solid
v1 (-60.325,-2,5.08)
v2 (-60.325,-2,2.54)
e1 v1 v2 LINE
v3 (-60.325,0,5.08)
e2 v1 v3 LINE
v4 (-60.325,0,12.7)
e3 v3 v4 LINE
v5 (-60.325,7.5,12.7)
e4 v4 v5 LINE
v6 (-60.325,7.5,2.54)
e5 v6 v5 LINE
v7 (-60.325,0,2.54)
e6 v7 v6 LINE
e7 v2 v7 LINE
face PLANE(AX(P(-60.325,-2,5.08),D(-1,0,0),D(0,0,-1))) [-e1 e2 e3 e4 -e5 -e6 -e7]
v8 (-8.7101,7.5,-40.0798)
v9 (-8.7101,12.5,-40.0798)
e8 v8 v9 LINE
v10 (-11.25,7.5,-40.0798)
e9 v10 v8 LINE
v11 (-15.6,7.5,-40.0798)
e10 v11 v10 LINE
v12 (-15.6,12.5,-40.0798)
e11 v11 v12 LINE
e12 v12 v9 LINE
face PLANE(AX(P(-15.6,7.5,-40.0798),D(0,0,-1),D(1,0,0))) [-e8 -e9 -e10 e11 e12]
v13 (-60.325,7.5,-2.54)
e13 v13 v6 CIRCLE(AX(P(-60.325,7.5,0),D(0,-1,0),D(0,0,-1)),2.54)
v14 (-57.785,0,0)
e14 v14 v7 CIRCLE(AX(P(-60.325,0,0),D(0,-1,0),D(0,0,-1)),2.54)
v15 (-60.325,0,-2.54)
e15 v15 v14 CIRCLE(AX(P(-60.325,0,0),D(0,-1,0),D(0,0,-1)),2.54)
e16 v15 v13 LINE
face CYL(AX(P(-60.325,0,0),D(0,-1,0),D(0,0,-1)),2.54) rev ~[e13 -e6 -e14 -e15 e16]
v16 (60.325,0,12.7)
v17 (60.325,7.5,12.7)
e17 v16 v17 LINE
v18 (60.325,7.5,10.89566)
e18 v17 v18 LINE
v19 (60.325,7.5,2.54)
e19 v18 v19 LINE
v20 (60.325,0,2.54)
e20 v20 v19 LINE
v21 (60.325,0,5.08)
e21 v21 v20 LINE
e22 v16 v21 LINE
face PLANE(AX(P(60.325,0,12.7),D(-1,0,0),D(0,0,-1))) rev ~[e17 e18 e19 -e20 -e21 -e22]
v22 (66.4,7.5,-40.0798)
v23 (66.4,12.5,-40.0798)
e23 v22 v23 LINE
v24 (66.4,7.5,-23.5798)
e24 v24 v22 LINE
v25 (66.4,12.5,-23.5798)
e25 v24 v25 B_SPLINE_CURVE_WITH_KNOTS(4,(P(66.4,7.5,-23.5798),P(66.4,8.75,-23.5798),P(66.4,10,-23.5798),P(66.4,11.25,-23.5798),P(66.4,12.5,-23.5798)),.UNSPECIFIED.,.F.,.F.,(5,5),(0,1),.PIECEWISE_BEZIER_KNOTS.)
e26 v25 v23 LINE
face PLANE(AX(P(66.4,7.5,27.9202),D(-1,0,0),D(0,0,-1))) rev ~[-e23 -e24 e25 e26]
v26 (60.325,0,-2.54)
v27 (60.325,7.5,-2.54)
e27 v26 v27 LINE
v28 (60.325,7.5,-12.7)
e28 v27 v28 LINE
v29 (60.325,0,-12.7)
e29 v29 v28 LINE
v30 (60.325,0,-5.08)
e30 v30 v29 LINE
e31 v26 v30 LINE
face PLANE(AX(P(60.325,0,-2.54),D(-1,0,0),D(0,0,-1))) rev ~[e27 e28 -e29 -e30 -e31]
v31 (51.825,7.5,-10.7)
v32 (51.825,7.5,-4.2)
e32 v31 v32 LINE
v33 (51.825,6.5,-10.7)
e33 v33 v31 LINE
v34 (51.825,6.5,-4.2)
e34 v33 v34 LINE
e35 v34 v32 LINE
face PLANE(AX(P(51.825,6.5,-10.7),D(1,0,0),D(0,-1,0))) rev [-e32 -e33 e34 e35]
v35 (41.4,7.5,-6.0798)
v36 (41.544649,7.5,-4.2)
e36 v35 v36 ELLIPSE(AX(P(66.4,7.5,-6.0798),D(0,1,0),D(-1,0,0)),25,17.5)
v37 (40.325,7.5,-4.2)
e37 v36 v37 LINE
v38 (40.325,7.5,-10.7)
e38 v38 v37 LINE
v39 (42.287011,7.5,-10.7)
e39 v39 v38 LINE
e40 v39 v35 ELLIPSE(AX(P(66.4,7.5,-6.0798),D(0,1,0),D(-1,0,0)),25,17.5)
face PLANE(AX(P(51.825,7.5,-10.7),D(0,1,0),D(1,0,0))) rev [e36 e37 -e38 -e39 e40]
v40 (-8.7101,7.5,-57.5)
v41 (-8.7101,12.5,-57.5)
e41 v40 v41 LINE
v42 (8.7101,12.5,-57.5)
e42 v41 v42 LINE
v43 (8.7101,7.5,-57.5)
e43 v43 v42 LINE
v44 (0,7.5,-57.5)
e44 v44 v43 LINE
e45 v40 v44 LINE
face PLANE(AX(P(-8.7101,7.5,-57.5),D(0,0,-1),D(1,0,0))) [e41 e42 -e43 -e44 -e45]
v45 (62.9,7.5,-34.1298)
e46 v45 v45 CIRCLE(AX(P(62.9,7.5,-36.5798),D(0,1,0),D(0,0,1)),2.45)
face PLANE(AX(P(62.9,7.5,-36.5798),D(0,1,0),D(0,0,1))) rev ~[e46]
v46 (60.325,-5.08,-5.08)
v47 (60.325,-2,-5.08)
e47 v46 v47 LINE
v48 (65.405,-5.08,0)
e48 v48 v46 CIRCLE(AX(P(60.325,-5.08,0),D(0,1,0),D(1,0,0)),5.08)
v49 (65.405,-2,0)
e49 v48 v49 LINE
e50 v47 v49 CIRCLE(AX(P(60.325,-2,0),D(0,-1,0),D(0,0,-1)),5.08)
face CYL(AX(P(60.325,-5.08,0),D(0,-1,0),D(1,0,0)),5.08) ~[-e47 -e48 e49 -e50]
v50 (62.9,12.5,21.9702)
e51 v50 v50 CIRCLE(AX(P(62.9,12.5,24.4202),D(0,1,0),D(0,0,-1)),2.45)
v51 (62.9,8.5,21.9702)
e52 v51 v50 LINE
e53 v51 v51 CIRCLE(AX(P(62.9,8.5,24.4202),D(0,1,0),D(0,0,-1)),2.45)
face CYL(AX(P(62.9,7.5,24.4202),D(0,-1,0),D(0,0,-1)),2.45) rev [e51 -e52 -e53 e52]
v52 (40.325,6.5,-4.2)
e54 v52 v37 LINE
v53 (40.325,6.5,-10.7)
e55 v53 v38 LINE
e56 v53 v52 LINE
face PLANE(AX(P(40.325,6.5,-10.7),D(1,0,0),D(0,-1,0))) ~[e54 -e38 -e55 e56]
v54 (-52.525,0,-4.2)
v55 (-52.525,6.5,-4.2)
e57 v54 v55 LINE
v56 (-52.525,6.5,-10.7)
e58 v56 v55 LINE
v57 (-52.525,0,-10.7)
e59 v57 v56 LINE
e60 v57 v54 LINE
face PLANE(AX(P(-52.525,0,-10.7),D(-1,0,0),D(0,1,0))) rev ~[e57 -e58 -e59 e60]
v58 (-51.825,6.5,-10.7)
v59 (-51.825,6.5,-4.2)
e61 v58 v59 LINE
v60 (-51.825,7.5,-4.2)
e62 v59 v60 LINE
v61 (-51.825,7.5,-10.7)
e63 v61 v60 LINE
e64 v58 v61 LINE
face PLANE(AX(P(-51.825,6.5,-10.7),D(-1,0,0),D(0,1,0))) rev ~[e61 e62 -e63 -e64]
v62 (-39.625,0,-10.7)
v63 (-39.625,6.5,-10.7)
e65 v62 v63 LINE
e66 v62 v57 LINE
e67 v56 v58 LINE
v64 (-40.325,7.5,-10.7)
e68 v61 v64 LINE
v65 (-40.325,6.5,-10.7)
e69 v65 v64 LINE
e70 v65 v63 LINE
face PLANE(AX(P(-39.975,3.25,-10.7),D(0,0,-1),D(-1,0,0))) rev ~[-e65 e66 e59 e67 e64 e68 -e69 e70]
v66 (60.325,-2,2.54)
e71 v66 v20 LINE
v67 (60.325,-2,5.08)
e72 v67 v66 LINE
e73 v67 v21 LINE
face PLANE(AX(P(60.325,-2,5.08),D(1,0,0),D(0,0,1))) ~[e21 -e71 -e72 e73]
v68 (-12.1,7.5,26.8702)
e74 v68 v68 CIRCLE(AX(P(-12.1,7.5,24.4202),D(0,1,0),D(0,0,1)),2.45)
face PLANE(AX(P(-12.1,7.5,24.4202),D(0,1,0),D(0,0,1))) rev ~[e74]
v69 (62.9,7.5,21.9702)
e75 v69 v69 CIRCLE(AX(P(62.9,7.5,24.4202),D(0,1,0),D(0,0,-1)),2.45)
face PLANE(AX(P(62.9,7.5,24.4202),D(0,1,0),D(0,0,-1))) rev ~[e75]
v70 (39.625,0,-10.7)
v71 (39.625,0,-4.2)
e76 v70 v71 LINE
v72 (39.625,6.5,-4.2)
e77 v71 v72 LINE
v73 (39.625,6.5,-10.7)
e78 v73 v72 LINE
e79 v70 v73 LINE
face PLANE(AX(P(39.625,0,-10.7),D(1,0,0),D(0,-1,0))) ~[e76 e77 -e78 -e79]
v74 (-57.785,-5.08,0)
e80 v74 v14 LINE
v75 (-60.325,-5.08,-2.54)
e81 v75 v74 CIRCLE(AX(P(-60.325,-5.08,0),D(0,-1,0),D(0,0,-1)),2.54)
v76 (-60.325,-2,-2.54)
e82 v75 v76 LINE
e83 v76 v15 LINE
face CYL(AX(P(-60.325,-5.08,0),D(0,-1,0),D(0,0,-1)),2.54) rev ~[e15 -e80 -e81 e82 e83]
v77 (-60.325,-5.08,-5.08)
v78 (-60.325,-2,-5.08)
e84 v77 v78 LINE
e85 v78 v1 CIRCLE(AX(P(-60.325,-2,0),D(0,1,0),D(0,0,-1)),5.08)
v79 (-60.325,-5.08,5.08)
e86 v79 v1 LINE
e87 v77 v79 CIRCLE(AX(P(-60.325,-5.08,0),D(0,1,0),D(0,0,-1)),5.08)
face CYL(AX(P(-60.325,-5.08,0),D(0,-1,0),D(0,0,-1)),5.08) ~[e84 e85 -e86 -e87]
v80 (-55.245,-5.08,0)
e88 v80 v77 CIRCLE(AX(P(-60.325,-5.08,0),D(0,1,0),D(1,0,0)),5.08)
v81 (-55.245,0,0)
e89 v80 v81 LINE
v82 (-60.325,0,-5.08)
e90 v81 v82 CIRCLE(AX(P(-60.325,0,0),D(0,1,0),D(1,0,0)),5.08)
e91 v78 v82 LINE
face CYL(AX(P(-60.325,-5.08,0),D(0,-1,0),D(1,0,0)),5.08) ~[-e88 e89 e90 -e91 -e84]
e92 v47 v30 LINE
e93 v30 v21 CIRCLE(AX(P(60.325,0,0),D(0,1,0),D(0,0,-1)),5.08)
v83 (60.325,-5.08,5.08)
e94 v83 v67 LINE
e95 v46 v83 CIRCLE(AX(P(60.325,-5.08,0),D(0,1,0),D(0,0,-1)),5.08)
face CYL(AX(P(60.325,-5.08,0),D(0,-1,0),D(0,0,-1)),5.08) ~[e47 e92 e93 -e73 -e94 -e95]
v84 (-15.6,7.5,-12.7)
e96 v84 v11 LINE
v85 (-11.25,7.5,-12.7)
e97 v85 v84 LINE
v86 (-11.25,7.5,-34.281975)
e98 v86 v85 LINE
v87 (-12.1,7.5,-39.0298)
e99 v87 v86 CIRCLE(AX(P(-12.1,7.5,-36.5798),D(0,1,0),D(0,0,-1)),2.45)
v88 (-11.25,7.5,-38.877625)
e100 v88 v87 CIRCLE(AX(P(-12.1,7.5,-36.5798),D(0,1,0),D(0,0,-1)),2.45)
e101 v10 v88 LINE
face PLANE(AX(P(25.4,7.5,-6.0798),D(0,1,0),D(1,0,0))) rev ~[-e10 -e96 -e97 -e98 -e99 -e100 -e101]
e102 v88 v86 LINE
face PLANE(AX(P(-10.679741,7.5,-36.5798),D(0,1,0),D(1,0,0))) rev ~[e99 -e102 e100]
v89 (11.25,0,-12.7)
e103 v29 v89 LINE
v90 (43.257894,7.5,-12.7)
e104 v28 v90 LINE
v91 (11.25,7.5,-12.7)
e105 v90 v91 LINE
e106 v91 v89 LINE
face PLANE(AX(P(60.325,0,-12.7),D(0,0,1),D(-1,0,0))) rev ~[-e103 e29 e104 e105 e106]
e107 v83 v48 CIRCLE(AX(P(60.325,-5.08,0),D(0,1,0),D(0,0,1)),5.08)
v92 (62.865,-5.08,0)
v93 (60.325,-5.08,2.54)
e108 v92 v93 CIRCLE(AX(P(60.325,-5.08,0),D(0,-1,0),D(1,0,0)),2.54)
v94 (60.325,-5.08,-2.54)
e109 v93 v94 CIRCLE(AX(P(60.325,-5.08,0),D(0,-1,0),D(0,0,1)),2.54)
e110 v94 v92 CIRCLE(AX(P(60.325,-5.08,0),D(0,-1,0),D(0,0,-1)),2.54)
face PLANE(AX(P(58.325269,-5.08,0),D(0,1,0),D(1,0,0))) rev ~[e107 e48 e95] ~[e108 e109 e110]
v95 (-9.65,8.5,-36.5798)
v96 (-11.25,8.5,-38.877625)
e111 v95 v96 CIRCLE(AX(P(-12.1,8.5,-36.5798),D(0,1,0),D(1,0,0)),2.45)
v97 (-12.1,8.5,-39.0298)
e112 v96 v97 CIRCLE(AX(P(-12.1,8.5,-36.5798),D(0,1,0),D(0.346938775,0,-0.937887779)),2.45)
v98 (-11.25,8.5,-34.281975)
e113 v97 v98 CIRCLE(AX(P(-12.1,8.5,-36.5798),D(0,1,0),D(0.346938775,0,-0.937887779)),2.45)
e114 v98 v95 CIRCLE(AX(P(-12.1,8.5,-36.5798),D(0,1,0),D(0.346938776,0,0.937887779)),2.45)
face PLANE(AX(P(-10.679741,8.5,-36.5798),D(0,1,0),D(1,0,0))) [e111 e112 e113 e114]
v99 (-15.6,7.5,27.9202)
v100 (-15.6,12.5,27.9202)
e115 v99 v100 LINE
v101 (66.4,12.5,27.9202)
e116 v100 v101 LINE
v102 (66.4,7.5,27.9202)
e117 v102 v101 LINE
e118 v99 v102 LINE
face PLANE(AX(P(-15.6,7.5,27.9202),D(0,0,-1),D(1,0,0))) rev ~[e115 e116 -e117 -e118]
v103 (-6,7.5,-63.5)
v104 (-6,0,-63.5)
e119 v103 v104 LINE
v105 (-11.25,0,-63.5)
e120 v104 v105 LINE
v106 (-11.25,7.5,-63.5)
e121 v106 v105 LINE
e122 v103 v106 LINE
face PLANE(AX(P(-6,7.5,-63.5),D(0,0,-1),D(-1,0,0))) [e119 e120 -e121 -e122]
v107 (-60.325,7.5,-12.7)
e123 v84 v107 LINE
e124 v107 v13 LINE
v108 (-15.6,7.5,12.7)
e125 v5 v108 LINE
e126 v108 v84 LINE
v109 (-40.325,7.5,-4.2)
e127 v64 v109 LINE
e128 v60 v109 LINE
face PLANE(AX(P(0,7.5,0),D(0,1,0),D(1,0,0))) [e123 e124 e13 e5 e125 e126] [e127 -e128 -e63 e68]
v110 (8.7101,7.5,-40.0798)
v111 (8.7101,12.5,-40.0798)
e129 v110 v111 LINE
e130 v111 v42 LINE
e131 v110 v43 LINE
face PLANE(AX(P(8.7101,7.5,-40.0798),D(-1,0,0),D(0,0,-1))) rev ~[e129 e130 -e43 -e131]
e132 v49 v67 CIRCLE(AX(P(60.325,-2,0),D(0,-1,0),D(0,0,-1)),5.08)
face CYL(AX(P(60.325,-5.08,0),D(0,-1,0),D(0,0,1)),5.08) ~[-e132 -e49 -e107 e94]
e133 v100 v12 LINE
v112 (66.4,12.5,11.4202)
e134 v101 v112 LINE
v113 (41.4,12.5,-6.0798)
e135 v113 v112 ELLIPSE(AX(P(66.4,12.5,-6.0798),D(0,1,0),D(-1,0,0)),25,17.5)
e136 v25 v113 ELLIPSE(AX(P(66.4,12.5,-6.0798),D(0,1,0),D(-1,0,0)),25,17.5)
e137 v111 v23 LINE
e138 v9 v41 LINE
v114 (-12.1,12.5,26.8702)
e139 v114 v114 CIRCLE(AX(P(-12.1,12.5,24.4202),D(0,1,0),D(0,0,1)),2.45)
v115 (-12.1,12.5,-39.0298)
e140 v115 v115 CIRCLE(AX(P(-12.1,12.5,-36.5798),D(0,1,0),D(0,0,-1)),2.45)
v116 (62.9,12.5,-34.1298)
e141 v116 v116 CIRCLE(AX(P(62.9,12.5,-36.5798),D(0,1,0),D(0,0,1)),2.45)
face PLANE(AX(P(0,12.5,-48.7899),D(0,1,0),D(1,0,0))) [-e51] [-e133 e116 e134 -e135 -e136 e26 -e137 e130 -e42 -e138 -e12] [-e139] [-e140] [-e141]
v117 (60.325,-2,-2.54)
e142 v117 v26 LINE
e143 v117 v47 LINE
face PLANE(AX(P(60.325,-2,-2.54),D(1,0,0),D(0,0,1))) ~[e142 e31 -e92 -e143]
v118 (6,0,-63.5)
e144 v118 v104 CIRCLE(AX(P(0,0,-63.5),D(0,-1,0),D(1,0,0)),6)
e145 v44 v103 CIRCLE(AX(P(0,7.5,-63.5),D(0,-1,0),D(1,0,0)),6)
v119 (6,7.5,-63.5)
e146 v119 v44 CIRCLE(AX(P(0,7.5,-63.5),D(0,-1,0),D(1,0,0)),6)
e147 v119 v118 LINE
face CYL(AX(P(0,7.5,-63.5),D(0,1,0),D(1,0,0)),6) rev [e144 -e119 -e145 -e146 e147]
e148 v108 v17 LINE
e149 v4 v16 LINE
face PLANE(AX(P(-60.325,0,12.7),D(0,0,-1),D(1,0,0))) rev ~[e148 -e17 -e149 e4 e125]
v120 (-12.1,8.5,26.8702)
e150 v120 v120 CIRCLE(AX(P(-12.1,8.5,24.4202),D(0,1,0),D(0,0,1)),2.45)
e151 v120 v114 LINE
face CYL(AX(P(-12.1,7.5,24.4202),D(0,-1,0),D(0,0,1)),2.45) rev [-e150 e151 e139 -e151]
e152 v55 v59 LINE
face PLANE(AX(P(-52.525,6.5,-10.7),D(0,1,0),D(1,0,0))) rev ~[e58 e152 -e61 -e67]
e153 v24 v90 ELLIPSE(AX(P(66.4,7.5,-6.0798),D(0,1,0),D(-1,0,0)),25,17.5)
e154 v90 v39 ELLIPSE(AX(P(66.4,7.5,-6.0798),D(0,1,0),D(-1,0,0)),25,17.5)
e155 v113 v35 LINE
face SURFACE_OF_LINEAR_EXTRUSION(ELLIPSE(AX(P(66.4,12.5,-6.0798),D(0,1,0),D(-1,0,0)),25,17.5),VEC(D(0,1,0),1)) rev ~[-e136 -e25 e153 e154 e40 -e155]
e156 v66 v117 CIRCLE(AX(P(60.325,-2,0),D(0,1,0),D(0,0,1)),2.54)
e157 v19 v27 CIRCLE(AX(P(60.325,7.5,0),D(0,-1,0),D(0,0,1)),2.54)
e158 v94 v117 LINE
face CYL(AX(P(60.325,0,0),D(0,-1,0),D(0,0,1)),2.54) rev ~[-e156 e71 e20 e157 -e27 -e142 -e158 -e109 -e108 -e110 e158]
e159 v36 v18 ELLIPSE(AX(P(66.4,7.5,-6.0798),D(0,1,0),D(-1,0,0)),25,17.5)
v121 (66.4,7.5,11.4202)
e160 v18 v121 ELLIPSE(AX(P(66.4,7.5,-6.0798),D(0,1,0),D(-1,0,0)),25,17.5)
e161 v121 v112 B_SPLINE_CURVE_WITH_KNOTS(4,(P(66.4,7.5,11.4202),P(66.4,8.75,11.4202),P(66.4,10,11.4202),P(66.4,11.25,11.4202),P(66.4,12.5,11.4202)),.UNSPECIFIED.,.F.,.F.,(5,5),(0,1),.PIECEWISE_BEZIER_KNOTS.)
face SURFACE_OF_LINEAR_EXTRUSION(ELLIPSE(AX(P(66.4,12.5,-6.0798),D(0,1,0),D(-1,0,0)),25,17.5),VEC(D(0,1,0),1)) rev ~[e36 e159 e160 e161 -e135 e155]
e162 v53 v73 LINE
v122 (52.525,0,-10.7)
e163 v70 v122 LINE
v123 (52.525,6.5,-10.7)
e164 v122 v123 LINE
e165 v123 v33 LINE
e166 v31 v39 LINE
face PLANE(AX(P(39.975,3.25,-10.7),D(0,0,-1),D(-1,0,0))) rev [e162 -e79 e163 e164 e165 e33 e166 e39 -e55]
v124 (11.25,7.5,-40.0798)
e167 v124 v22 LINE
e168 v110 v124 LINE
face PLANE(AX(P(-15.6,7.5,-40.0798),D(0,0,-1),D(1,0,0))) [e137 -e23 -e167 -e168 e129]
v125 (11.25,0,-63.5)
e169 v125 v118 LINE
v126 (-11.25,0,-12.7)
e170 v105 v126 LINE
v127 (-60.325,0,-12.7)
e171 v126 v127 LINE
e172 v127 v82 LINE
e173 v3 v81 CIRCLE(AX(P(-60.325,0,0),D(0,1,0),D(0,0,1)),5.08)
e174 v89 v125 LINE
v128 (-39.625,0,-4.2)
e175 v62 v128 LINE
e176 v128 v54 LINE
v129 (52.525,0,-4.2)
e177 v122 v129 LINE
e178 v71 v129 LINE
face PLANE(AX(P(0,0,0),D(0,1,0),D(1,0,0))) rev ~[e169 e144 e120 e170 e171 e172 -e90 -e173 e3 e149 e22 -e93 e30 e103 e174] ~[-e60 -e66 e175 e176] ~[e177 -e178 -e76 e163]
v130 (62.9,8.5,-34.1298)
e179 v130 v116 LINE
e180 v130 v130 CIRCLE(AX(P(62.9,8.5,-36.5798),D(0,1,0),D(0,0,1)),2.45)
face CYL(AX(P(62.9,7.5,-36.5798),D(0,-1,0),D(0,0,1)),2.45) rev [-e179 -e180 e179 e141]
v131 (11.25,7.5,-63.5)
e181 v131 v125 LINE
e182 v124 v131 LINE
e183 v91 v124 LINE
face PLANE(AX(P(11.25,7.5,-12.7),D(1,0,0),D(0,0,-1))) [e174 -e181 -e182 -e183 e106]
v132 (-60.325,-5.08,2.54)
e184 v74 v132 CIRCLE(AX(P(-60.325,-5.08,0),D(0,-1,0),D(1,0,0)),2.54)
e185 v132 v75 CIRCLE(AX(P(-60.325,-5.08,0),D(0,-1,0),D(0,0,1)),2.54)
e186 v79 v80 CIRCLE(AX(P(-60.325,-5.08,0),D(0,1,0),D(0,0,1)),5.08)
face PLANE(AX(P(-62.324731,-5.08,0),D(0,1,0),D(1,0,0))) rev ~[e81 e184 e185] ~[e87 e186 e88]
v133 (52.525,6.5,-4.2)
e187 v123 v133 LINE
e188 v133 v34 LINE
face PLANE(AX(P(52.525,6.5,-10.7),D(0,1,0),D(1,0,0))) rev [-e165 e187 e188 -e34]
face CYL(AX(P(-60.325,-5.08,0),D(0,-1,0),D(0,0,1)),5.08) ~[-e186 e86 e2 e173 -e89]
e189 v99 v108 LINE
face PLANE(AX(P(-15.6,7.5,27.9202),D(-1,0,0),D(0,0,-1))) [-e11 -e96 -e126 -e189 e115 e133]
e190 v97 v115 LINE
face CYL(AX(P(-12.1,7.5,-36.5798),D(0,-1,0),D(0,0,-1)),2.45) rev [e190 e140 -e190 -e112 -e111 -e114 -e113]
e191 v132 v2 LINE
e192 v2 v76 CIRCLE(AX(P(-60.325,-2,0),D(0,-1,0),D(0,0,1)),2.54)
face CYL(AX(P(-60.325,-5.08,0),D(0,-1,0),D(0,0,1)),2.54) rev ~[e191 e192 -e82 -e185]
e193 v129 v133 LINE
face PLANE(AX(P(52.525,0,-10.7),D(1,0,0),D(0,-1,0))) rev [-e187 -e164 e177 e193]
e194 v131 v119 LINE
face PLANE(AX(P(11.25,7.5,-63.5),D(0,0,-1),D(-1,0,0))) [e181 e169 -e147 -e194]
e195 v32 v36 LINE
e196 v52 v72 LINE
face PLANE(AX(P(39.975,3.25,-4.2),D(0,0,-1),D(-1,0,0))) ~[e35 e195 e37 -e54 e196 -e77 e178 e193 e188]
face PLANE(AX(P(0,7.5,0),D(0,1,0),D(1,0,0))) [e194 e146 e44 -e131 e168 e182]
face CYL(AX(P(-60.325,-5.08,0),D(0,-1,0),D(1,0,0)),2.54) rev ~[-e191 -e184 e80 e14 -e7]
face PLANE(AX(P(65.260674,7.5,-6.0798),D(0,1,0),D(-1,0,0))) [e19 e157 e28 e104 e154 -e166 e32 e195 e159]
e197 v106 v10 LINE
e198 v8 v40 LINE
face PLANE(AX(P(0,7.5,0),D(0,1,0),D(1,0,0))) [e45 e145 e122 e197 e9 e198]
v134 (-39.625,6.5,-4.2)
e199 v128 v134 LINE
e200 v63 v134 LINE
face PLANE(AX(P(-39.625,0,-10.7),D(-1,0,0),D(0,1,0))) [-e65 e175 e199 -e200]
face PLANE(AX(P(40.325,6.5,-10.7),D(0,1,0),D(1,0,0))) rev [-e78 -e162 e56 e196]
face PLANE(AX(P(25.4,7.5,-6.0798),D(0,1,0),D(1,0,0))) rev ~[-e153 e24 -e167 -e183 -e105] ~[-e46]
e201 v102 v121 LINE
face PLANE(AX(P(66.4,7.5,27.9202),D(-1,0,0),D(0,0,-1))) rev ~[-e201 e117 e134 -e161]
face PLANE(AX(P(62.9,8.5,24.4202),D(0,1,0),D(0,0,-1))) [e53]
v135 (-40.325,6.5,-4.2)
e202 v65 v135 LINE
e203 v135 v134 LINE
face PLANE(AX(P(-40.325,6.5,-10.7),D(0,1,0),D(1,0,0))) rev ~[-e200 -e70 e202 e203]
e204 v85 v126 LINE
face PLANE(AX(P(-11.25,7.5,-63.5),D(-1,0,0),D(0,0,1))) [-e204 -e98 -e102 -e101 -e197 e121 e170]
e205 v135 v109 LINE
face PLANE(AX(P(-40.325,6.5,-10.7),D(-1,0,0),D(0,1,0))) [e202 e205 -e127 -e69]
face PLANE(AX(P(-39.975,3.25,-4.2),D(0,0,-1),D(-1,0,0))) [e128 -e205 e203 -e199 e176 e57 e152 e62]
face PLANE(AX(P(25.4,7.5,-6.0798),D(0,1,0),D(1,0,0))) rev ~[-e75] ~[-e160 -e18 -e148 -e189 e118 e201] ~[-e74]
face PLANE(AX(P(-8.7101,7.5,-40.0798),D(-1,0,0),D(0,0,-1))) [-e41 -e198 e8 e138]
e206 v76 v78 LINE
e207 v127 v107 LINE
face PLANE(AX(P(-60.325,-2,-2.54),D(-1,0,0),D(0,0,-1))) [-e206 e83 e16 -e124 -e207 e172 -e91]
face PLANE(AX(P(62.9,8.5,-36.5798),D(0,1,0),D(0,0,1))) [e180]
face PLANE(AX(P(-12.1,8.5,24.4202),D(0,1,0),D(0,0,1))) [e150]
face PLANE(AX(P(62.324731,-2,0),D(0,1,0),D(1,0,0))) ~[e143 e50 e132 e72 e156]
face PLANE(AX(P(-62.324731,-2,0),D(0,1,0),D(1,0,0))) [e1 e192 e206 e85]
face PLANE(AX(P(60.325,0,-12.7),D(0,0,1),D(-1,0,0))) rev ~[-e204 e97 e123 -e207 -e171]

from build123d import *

# Parameters (mm, degrees)
BOSS_EXTRUDE1_DEPTH = 7.5
BOSS_EXTRUDE2_DEPTH = 7.5
SKETCH6_W           = 82
SKETCH6_H           = 68
SKETCH6_R           = 2.45
BOSS_EXTRUDE4_DEPTH = 5
SKETCH7_W           = 17.42019984
SKETCH7_H           = 17.42019984
BOSS_EXTRUDE5_DEPTH = 5
BOSS_EXTRUDE6_START = -5.08
BOSS_EXTRUDE6_DEPTH = 5.08
CUT_EXTRUDE1_START  = -2
CUT_EXTRUDE1_DEPTH  = 2
SKETCH6_3_R         = 2.45
BOSS_EXTRUDE7_DEPTH = 1
SKETCH8_RX          = 25
SKETCH8_RY          = 17.5
CUT_EXTRUDE4_DEPTH  = 5
CUT_EXTRUDE5_START  = -2
SKETCH9_W           = 0.7
SKETCH9_H           = 6.5
SKETCH9_W_2         = 5.75
SKETCH9_H_2         = 1
CUT_EXTRUDE5_DEPTH  = 6.5


with BuildPart() as part:
    # Sketch3 → Boss-Extrude1 (new body)
    with BuildSketch(Plane(origin=(0, 0, 0), x_dir=(1, 0, 0), z_dir=(0, 1, 0))):
        with BuildLine():
            Line((-60.325, -12.7), (60.325, -12.7))
            Line((60.325, -12.7), (60.325, -2.54))
            ThreePointArc((60.325, -2.54), (57.785, 0), (60.325, 2.54))
            Line((60.325, 2.54), (60.325, 12.7))
            Line((60.325, 12.7), (-60.325, 12.7))
            Line((-60.325, 12.7), (-60.325, 2.54))
            ThreePointArc((-60.325, 2.54), (-57.785, 0), (-60.325, -2.54))
            Line((-60.325, -2.54), (-60.325, -12.7))
        make_face()
    extrude(amount=BOSS_EXTRUDE1_DEPTH)

    # Sketch5 → Boss-Extrude2 (add)
    with BuildSketch(Plane(origin=(0, 7.5, 0), x_dir=(1, 0, 0), z_dir=(0, 1, 0))):
        with BuildLine():
            Line((-11.25, 63.5), (-11.25, 12.7))
            Line((-11.25, 12.7), (11.25, 12.7))
            Line((11.25, 12.7), (11.25, 63.5))
            Line((11.25, 63.5), (6, 63.5))
            ThreePointArc((6, 63.5), (0, 57.5), (-6, 63.5))
            Line((-6, 63.5), (-11.25, 63.5))
        make_face()
    extrude(amount=-BOSS_EXTRUDE2_DEPTH)

    # Sketch6 → Boss-Extrude4 (add)
    with BuildSketch(Plane(origin=(0, 7.5, 0), x_dir=(1, 0, 0), z_dir=(0, 1, 0))):
        with Locations((25.4, 6.07980016)):
            Rectangle(SKETCH6_W, SKETCH6_H)
        with Locations(Location((-12.1, -24.42019984, 0), (0, 0, 270))):
            Circle(SKETCH6_R, mode=Mode.SUBTRACT)
        with Locations(Location((-12.1, 36.57980016, 0), (0, 0, 90))):
            Circle(SKETCH6_R, mode=Mode.SUBTRACT)
        with Locations(Location((62.9, 36.57980016, 0), (0, 0, 270))):
            Circle(SKETCH6_R, mode=Mode.SUBTRACT)
        with Locations(Location((62.9, -24.42019984, 0), (0, 0, 90))):
            Circle(SKETCH6_R, mode=Mode.SUBTRACT)
    extrude(amount=BOSS_EXTRUDE4_DEPTH)

    # Sketch7 → Boss-Extrude5 (add)
    with BuildSketch(Plane(origin=(0, 7.5, 0), x_dir=(1, 0, 0), z_dir=(0, 1, 0))):
        with Locations((0, 48.78990008)):
            Rectangle(SKETCH7_W, SKETCH7_H)
    extrude(amount=BOSS_EXTRUDE5_DEPTH)

    # Sketch3<3> → Boss-Extrude6 (add)
    with BuildSketch(Plane(origin=(0, 0, 0), x_dir=(1, 0, 0), z_dir=(0, 1, 0)).offset(BOSS_EXTRUDE6_START)):
        with BuildLine():
            ThreePointArc((-60.325, 5.08), (-65.405, 0), (-60.325, -5.08))
            Line((-60.325, -5.08), (-60.325, -2.54))
            ThreePointArc((-60.325, -2.54), (-62.865, 0), (-60.325, 2.54))
            Line((-60.325, 2.54), (-60.325, 5.08))
        make_face()
        with BuildLine():
            Line((-60.325, -2.54), (-60.325, -5.08))
            ThreePointArc((-60.325, -5.08), (-56.732897552, -3.592102448), (-55.245, 0))
            ThreePointArc((-55.245, 0), (-56.732897552, 3.592102448), (-60.325, 5.08))
            Line((-60.325, 5.08), (-60.325, 2.54))
            ThreePointArc((-60.325, 2.54), (-58.528948776, 1.796051224), (-57.785, 0))
            ThreePointArc((-57.785, 0), (-58.528948776, -1.796051224), (-60.325, -2.54))
        make_face()
        with BuildLine():
            ThreePointArc((60.325, 5.08), (55.245, 0), (60.325, -5.08))
            Line((60.325, -5.08), (60.325, -2.54))
            ThreePointArc((60.325, -2.54), (57.785, 0), (60.325, 2.54))
            Line((60.325, 2.54), (60.325, 5.08))
        make_face()
        with BuildLine():
            Line((60.325, -2.54), (60.325, -5.08))
            ThreePointArc((60.325, -5.08), (63.917102448, -3.592102448), (65.405, 0))
            ThreePointArc((65.405, 0), (63.917102448, 3.592102448), (60.325, 5.08))
            Line((60.325, 5.08), (60.325, 2.54))
            ThreePointArc((60.325, 2.54), (62.121051224, 1.796051224), (62.865, 0))
            ThreePointArc((62.865, 0), (62.121051224, -1.796051224), (60.325, -2.54))
        make_face()
    extrude(amount=BOSS_EXTRUDE6_DEPTH)

    # Sketch3<4> → Cut-Extrude1 (cut)
    with BuildSketch(Plane(origin=(0, 0, 0), x_dir=(1, 0, 0), z_dir=(0, 1, 0)).offset(CUT_EXTRUDE1_START)):
        with BuildLine():
            ThreePointArc((-60.325, 5.08), (-65.405, 0), (-60.325, -5.08))
            Line((-60.325, -5.08), (-60.325, -2.54))
            ThreePointArc((-60.325, -2.54), (-62.865, 0), (-60.325, 2.54))
            Line((-60.325, 2.54), (-60.325, 5.08))
        make_face()
    cut_extrude1 = extrude(amount=CUT_EXTRUDE1_DEPTH, mode=Mode.SUBTRACT)

    # Mirror2: Cut-Extrude1 across plane
    add(cut_extrude1.mirror(Plane(origin=(0, 0, 0), x_dir=(0, 0, 1), z_dir=(1, 0, 0))), mode=Mode.SUBTRACT)

    # Sketch6<3> → Boss-Extrude7 (add)
    with BuildSketch(Plane(origin=(0, 7.5, 0), x_dir=(1, 0, 0), z_dir=(0, 1, 0))):
        with Locations(Location((-12.1, -24.42019984, 0), (0, 0, 270))):
            Circle(SKETCH6_3_R)
        with BuildLine():
            ThreePointArc((-9.65, 36.57980016), (-10.089403074, 37.97980016), (-11.25, 38.877625219))
            Line((-11.25, 38.877625219), (-11.25, 34.281975101))
            ThreePointArc((-11.25, 34.281975101), (-10.089403074, 35.17980016), (-9.65, 36.57980016))
        make_face()
        with BuildLine():
            Line((-11.25, 34.281975101), (-11.25, 38.877625219))
            ThreePointArc((-11.25, 38.877625219), (-14.55, 36.57980016), (-11.25, 34.281975101))
        make_face()
        with Locations(Location((62.9, 36.57980016, 0), (0, 0, 270))):
            Circle(SKETCH6_3_R)
        with Locations(Location((62.9, -24.42019984, 0), (0, 0, 90))):
            Circle(SKETCH6_3_R)
    extrude(amount=BOSS_EXTRUDE7_DEPTH)

    # Sketch8 → Cut-Extrude4 (cut)
    with BuildSketch(Plane(origin=(0, 12.5, 0), x_dir=(1, 0, 0), z_dir=(0, 1, 0))):
        with Locations(Location((66.4, 6.07980016), (0, 0, -180))):
            Ellipse(SKETCH8_RX, SKETCH8_RY)
    extrude(amount=-CUT_EXTRUDE4_DEPTH, mode=Mode.SUBTRACT)

    # Sketch9 → Cut-Extrude5 (cut)
    with BuildSketch(Plane(origin=(0, 0, -12.7), x_dir=(-1, 0, 0), z_dir=(0, 0, -1)).offset(CUT_EXTRUDE5_START)):
        with Locations((39.975, 3.25)):
            Rectangle(SKETCH9_W, SKETCH9_H)
        Polygon((51.825, 0), (51.825, 6.5), (46.075, 6.5), (40.325, 6.5), (40.325, 0), align=None)
        with Locations((52.175, 3.25)):
            Rectangle(SKETCH9_W, SKETCH9_H)
        with Locations((48.95, 7)):
            Rectangle(SKETCH9_W_2, SKETCH9_H_2)
        with Locations((43.2, 7)):
            Rectangle(SKETCH9_W_2, SKETCH9_H_2)
    cut_extrude5 = extrude(amount=-CUT_EXTRUDE5_DEPTH, mode=Mode.SUBTRACT)

    # Mirror3: Cut-Extrude5 across plane
    add(cut_extrude5.mirror(Plane(origin=(0, 0, 0), x_dir=(0, 0, 1), z_dir=(1, 0, 0))), mode=Mode.SUBTRACT)


solid = part.part
